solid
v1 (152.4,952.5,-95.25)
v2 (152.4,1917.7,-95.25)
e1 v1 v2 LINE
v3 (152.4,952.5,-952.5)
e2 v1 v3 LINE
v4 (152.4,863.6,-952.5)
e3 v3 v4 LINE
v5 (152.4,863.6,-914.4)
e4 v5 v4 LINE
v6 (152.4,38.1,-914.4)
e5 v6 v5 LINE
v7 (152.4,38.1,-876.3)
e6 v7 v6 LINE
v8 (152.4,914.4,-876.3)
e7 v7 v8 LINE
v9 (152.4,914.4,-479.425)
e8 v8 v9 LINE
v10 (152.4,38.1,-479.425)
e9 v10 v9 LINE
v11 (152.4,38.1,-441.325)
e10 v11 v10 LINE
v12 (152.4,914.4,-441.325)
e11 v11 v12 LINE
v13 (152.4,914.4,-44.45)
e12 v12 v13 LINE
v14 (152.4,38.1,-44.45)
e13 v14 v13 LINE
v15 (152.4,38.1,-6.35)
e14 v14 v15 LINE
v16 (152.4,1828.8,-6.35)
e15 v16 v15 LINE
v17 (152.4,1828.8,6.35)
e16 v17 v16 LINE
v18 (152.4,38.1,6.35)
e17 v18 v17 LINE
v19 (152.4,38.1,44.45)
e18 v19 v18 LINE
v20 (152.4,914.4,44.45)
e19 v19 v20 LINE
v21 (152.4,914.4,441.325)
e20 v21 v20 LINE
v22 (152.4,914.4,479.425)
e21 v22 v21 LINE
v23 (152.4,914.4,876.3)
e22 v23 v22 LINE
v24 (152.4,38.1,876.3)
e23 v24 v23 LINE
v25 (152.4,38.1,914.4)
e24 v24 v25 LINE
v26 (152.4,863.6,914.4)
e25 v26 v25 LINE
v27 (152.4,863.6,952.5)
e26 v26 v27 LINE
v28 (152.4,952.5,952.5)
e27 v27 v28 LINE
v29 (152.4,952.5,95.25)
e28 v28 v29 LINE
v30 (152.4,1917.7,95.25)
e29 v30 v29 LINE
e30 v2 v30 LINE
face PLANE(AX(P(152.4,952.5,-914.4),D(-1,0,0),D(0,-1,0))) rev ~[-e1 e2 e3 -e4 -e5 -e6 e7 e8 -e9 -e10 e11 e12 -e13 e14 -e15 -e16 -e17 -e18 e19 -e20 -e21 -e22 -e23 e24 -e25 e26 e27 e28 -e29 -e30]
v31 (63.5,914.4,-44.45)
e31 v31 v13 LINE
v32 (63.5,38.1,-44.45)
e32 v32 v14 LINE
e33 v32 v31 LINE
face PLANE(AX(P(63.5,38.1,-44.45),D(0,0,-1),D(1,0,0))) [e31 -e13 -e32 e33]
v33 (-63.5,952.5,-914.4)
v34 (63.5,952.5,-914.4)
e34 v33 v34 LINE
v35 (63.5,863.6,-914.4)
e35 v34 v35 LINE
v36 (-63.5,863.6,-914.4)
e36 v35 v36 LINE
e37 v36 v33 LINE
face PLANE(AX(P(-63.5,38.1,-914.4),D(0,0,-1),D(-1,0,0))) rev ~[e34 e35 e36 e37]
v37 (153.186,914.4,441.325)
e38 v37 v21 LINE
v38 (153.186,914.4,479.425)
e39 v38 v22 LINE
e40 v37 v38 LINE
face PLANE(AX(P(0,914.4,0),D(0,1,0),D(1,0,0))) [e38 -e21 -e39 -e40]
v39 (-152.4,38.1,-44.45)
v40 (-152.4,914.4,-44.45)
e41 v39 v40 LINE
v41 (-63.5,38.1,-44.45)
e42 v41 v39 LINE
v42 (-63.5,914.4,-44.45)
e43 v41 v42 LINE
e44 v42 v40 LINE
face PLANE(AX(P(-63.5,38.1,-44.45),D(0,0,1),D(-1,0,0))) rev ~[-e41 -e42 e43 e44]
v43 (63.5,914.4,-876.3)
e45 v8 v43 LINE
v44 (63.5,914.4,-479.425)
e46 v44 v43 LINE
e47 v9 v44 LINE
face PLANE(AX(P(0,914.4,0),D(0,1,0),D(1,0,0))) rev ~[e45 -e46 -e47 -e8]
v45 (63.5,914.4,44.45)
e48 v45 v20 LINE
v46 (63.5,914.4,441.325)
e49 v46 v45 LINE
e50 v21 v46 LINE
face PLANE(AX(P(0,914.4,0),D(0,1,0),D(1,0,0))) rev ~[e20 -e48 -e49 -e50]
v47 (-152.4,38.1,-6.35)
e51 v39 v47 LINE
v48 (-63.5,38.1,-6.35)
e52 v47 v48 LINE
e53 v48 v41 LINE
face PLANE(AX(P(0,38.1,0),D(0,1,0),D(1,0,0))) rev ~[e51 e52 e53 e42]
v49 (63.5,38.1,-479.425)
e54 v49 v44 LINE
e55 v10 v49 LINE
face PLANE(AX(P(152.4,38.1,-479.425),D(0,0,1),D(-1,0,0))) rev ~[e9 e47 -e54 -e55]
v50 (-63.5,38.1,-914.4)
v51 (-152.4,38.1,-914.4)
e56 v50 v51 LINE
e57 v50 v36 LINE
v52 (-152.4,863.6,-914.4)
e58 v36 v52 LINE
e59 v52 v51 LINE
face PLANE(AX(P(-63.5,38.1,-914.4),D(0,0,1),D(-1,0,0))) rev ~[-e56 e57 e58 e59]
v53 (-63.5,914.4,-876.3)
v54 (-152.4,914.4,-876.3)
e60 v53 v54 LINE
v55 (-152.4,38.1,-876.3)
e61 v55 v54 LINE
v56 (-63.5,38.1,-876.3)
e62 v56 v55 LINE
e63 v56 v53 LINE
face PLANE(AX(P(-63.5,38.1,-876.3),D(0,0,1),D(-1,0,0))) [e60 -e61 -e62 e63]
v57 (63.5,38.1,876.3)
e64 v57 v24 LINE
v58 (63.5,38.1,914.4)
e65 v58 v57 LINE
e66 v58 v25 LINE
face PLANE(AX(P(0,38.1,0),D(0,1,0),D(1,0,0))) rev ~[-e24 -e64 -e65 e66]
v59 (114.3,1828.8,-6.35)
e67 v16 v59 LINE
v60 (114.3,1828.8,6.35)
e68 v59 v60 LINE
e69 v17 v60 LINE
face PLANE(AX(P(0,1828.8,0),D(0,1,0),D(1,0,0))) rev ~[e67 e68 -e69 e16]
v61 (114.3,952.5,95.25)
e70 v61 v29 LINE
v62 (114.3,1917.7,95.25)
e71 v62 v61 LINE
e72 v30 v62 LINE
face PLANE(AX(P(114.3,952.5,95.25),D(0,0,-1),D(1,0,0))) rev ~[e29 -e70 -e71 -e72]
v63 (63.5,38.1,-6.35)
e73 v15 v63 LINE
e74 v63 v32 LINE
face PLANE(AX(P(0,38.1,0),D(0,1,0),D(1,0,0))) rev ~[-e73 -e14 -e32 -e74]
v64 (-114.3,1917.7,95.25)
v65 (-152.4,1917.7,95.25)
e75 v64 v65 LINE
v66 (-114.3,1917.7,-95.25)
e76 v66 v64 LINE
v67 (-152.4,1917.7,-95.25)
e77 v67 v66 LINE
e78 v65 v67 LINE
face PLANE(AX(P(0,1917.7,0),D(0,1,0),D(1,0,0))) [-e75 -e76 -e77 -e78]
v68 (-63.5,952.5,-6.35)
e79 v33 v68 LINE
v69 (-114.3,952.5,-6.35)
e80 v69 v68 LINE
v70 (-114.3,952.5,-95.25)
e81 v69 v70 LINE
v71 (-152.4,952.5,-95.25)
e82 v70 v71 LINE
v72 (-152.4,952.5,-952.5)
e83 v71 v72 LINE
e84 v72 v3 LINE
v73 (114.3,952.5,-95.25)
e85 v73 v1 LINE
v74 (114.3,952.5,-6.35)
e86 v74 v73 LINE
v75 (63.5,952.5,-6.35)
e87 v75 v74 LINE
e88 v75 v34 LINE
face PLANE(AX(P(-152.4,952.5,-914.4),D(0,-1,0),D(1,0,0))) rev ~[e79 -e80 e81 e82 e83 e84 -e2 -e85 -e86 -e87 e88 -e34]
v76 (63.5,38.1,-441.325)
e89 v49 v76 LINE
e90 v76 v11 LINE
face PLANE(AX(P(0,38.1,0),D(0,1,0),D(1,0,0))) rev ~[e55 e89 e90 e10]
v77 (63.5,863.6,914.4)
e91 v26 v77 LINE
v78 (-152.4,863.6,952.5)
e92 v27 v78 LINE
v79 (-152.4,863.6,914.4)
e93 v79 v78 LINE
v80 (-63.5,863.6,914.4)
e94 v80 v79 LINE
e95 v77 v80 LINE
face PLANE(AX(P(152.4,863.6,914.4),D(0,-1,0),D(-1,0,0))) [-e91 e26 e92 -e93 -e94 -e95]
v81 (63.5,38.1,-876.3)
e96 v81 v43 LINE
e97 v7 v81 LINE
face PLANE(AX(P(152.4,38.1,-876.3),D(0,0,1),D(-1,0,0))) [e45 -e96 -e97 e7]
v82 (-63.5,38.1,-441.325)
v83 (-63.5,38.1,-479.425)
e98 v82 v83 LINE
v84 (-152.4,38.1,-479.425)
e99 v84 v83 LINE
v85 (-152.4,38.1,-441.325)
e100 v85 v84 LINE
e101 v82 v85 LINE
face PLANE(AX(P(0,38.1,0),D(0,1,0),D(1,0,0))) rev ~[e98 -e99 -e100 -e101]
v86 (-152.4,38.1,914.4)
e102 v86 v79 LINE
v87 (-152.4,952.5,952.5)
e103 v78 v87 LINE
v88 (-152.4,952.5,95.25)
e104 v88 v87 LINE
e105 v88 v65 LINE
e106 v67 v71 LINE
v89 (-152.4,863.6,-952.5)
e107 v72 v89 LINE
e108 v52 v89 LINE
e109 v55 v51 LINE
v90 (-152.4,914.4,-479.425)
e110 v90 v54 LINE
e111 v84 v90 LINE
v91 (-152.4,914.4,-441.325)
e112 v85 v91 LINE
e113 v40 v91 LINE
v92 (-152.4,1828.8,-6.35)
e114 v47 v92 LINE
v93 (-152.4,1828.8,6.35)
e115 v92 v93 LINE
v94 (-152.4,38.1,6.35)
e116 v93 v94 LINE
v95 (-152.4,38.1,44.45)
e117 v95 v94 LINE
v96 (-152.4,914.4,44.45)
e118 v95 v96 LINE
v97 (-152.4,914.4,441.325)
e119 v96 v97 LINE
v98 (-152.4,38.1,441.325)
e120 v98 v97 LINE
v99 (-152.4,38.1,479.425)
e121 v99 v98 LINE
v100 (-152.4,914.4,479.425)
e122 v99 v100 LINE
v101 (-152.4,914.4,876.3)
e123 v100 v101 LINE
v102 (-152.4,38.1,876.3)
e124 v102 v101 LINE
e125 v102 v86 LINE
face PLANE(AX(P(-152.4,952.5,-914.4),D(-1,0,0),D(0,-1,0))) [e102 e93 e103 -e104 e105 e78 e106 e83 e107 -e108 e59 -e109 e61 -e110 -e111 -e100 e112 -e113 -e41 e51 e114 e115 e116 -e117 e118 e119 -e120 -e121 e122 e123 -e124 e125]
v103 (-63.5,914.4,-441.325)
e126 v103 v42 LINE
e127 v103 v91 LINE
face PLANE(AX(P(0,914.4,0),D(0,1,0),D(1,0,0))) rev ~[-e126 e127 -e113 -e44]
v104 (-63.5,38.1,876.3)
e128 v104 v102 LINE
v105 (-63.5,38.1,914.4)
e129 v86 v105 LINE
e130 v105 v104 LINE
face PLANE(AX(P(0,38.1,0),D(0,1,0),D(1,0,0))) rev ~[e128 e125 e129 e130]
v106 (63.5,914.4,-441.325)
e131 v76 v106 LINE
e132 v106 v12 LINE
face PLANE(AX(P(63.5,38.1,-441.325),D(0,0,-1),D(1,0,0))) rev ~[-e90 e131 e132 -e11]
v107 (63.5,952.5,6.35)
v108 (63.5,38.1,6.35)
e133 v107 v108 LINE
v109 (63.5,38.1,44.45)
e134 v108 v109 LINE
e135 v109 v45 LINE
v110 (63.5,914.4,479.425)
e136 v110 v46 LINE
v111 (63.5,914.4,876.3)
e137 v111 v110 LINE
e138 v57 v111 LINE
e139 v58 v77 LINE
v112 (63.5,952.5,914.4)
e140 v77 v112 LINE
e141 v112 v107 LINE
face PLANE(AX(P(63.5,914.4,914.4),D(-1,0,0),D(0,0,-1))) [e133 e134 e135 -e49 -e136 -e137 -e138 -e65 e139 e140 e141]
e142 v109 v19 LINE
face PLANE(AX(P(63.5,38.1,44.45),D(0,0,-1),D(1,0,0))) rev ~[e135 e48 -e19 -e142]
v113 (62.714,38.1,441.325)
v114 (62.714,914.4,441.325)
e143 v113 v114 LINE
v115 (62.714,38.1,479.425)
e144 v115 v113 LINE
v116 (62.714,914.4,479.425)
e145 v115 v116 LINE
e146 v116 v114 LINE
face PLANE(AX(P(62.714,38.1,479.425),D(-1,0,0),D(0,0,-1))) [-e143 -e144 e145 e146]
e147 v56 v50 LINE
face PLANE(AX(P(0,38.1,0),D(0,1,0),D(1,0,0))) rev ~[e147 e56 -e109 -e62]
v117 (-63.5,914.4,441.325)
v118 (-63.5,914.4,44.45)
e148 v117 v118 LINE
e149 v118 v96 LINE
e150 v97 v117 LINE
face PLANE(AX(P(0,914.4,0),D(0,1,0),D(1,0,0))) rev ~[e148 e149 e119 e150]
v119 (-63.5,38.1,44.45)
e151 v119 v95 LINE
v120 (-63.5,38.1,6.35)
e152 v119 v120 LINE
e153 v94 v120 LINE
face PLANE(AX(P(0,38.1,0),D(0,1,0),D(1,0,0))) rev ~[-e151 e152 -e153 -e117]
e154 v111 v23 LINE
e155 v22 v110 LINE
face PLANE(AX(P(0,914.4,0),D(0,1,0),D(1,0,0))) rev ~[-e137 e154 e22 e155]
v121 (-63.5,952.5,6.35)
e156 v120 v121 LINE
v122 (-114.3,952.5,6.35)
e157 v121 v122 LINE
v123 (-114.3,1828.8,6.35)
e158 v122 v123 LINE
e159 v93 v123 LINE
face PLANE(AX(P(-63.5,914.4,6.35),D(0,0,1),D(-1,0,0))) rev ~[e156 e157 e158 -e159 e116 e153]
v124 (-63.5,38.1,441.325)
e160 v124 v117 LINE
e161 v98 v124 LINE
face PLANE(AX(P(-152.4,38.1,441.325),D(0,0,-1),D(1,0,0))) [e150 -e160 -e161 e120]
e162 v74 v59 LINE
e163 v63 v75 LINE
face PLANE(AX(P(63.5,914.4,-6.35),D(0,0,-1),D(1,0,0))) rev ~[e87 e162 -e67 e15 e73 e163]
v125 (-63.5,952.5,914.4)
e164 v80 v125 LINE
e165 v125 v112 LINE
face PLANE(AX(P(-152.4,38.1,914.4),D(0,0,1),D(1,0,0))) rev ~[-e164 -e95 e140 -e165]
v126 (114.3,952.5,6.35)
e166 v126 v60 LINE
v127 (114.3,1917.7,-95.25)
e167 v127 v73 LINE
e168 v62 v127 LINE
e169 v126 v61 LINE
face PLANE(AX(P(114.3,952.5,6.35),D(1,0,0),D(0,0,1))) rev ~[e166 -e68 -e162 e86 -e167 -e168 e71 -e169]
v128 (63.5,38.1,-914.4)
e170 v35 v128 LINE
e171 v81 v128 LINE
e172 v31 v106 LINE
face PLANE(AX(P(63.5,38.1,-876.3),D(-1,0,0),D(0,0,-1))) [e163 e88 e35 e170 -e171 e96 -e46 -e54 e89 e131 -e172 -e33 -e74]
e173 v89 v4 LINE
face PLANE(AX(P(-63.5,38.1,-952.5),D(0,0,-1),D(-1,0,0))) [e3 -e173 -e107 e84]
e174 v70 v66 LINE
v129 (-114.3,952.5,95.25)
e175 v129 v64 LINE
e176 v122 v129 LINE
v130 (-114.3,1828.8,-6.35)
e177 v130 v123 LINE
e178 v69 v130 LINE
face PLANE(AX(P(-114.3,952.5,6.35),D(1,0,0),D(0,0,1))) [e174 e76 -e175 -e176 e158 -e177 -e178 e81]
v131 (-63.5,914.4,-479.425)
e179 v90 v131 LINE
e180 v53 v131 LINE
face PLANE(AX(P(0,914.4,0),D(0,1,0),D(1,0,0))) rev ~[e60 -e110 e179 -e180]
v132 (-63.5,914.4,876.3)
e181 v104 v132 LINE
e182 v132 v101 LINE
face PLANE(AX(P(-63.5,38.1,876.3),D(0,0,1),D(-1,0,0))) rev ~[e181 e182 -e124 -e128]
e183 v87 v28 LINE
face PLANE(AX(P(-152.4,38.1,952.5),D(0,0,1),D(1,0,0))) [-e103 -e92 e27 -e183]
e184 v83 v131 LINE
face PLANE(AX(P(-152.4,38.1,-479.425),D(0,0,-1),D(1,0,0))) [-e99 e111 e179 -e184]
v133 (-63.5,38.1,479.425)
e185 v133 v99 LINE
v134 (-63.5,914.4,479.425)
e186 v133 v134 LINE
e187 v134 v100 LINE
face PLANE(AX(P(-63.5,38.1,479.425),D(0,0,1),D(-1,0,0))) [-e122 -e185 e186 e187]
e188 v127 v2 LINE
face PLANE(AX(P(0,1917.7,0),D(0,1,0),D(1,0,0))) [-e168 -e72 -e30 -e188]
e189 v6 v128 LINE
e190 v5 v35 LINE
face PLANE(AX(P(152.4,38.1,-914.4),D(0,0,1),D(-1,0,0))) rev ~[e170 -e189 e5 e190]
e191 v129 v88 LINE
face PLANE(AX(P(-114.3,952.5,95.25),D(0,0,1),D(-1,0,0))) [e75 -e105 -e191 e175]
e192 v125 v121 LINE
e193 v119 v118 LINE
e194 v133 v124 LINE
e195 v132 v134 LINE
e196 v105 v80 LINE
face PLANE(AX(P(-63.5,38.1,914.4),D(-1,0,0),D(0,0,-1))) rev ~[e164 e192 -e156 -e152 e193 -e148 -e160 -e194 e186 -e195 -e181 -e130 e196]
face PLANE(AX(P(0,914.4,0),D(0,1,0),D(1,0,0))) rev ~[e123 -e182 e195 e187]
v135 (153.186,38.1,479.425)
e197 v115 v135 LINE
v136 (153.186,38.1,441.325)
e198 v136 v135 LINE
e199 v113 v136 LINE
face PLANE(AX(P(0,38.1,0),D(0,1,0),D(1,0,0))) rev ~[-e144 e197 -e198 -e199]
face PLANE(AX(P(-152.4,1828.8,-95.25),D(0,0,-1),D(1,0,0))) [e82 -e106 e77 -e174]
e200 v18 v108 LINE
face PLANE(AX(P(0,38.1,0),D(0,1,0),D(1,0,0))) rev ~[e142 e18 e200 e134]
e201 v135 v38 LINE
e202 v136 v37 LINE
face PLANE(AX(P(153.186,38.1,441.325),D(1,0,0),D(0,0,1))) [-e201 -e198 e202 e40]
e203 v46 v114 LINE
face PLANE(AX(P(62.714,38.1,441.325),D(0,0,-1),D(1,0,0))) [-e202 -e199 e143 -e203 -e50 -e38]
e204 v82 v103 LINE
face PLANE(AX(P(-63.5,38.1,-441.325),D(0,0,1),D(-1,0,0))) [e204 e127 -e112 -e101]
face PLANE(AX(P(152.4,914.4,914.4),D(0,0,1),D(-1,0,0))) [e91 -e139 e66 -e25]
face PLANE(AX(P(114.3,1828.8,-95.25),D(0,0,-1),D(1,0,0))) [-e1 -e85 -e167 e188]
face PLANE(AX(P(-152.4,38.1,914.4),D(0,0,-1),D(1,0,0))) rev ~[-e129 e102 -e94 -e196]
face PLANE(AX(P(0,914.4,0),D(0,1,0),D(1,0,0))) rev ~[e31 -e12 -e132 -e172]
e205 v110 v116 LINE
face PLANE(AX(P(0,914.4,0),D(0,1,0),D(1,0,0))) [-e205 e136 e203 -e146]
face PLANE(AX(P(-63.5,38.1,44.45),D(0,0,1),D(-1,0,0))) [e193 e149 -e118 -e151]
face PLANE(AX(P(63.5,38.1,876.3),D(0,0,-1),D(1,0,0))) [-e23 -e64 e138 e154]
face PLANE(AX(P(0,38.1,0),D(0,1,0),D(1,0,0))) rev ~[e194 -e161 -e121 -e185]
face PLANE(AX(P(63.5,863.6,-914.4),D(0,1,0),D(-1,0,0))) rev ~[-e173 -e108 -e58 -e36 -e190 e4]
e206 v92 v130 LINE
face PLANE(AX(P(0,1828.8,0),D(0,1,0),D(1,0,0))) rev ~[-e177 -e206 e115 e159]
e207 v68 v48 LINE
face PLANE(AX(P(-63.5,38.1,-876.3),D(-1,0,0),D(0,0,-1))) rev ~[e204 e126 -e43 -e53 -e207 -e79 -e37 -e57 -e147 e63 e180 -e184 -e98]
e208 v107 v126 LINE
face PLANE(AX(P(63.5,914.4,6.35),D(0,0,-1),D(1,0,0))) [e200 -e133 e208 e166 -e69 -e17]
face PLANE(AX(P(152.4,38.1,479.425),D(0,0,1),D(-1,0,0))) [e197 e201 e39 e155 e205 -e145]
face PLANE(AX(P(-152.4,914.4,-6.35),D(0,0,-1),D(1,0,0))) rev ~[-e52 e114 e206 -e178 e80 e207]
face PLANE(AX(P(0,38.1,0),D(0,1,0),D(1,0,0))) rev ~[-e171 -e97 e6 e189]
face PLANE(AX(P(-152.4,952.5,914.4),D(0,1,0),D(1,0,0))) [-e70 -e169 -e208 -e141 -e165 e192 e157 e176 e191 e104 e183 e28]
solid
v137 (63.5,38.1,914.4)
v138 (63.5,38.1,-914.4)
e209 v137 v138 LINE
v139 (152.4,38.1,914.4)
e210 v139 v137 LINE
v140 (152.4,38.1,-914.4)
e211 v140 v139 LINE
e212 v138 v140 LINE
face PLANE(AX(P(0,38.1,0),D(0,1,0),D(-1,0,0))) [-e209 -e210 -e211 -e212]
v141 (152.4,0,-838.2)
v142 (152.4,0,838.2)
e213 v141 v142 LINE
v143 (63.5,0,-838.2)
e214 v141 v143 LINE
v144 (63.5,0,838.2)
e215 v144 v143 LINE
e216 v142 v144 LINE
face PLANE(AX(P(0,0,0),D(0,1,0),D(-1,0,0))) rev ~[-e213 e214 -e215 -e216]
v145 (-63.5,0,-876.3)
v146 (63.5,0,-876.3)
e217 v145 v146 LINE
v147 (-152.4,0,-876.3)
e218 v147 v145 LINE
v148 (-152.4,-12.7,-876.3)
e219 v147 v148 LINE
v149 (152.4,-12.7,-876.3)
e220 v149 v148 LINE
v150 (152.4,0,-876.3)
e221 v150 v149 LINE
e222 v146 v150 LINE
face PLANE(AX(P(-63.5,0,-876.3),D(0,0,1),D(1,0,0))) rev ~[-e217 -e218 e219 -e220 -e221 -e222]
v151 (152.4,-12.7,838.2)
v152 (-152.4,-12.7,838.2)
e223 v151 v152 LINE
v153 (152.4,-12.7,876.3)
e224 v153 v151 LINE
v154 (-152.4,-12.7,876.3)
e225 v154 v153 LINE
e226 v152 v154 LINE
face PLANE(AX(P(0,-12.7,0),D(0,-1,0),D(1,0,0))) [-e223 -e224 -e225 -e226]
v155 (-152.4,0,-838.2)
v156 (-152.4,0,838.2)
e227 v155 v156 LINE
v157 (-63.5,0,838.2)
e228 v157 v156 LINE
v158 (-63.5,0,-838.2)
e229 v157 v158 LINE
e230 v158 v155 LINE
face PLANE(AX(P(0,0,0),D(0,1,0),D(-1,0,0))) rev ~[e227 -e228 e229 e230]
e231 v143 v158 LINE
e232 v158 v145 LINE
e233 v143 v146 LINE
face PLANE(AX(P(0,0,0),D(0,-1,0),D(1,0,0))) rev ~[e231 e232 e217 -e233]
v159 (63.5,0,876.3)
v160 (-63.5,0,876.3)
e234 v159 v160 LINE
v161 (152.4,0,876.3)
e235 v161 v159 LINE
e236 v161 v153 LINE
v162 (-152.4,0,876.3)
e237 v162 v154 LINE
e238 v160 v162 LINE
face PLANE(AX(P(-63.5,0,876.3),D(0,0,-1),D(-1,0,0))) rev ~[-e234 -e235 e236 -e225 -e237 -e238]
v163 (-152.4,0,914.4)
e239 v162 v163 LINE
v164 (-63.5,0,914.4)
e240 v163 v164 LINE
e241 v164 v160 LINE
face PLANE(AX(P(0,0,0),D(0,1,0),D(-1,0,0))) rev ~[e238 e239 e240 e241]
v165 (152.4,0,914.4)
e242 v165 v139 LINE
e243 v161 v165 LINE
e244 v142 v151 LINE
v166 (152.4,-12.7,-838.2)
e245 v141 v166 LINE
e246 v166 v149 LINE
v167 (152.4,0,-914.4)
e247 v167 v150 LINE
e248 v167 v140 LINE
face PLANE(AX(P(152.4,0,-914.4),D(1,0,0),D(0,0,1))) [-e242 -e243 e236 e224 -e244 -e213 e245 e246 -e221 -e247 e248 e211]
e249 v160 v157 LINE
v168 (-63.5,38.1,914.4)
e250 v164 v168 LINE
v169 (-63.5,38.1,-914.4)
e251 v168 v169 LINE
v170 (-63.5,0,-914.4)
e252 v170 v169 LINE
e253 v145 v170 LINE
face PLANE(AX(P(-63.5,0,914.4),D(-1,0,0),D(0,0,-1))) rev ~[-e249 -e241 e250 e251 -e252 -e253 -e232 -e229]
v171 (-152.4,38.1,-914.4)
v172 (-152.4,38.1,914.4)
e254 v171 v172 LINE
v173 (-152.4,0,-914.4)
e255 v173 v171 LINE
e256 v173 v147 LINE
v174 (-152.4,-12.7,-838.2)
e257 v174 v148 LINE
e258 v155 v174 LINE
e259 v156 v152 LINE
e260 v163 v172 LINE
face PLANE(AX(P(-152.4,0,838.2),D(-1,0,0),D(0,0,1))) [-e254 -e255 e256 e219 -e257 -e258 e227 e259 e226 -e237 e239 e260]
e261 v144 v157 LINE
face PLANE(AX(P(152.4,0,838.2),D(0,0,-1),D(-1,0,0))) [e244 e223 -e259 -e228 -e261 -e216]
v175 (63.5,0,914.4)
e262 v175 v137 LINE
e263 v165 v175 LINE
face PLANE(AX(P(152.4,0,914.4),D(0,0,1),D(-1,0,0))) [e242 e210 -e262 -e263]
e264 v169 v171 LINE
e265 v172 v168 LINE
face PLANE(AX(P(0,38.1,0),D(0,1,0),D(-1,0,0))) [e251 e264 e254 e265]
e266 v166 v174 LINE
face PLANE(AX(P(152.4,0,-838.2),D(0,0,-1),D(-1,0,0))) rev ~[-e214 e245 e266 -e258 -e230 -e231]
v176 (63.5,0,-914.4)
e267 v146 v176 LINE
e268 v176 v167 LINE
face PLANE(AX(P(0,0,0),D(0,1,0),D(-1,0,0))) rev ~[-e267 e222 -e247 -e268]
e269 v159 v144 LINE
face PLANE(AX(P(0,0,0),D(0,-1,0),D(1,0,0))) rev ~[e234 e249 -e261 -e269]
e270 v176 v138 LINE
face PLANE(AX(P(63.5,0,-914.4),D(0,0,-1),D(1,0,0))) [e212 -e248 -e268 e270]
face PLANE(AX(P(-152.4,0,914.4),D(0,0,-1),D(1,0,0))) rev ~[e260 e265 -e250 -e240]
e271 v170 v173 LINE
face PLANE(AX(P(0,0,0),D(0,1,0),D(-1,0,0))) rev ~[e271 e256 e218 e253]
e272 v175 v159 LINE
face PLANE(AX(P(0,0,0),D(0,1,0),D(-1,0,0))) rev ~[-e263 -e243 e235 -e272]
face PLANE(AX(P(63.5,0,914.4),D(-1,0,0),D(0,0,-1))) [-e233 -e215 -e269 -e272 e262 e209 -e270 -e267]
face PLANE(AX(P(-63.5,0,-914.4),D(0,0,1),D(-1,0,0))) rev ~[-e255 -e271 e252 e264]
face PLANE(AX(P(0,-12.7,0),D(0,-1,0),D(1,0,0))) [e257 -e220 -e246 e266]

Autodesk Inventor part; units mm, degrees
ref_plane "YZ Plane" through (0, 0, 0) normal (1, 0, 0) x (0, 1, 0)
ref_plane "XZ Plane" through (0, 0, 0) normal (0, 1, 0) x (-1, 0, 0)
ref_plane "XY Plane" through (0, 0, 0) normal (0, 0, 1) x (1, 0, 0)
sketch "Sketch1" plane through (0, 0, 0) normal (0, 1, 0) x (-1, 0, 0)
  line L0 (-152.4, 914.4) -> (152.4, 914.4) construction
  line L1 (152.4, 914.4) -> (152.4, -914.4) construction
  line L2 (152.4, -914.4) -> (-152.4, -914.4) construction
  line L3 (-152.4, -914.4) -> (-152.4, 914.4) construction
  line L4 (-152.4, 914.4) -> (152.4, -914.4) construction
  line L5 (152.4, 914.4) -> (-152.4, -914.4) construction
  line L6 (-152.4, 914.4) -> (-63.5, 914.4) construction
  line L7 (-63.5, 914.4) -> (-63.5, -914.4) construction
  line L8 (-63.5, -914.4) -> (-152.4, -914.4) construction
  line L9 (-152.4, -914.4) -> (-152.4, 914.4) construction
  line L10 (-152.4, 914.4) -> (-63.5, 914.4)
  line L11 (-63.5, 914.4) -> (-63.5, -914.4)
  line L12 (-63.5, -914.4) -> (-152.4, -914.4)
  line L13 (-152.4, -914.4) -> (-152.4, 914.4)
  line L14 (152.4, 914.4) -> (63.5, 914.4)
  line L15 (63.5, 914.4) -> (63.5, -914.4)
  line L16 (63.5, -914.4) -> (152.4, -914.4)
  line L17 (152.4, -914.4) -> (152.4, 914.4)
  point P0 (0, 0)
  dimension "d0" = 304.8
  dimension "d1" = 1828.8
  dimension "d2" = 88.9
  dimension "d3" = 88.9
extrude "Extrusion1" add sketch "Sketch1" along normal blind 38.1
sketch "Sketch2" plane through (0, 38.1, 0) normal (0, 1, 0) x (1, 0, 0)
  line L0 (-152.4, -914.4) -> (-63.5, -914.4) projected
  line L1 (-63.5, -914.4) -> (-63.5, 914.4) projected
  line L2 (-152.4, -914.4) -> (-63.5, -914.4)
  line L3 (-63.5, -914.4) -> (-63.5, -876.3)
  line L4 (-63.5, -876.3) -> (-152.4, -876.3)
  line L5 (-152.4, -876.3) -> (-152.4, -914.4)
  line L6 (63.5, -914.4) -> (152.4, -914.4) projected
  line L7 (152.4, -914.4) -> (63.5, -914.4)
  line L8 (63.5, -914.4) -> (63.5, -876.3)
  line L9 (63.5, -876.3) -> (152.4, -876.3)
  line L10 (152.4, -876.3) -> (152.4, -914.4)
  line L11 (-152.4, 914.4) -> (-152.4, -914.4) construction
  line L12 (152.4, -6.35) -> (-152.4, -6.35) construction
  line L13 (-152.4, -6.35) -> (-152.4, 6.35) construction
  line L14 (-152.4, 6.35) -> (152.4, 6.35) construction
  line L15 (152.4, 6.35) -> (152.4, -6.35) construction
  line L16 (152.4, -6.35) -> (-152.4, 6.35) construction
  line L17 (-152.4, -6.35) -> (152.4, 6.35) construction
  line L18 (-152.4, -6.35) -> (-63.5, -6.35)
  line L19 (-63.5, -6.35) -> (-63.5, -44.45)
  line L20 (-63.5, -44.45) -> (-152.4, -44.45)
  line L21 (-152.4, -44.45) -> (-152.4, -6.35)
  line L22 (-152.4, 6.35) -> (-63.5, 6.35)
  line L23 (-63.5, 6.35) -> (-63.5, 44.45)
  line L24 (-63.5, 44.45) -> (-152.4, 44.45)
  line L25 (-152.4, 44.45) -> (-152.4, 6.35)
  line L26 (152.4, 6.35) -> (63.5, 6.35)
  line L27 (63.5, 6.35) -> (63.5, 44.45)
  line L28 (63.5, 44.45) -> (152.4, 44.45)
  line L29 (152.4, 44.45) -> (152.4, 6.35)
  line L30 (152.4, -6.35) -> (63.5, -6.35)
  line L31 (63.5, -6.35) -> (63.5, -44.45)
  line L32 (63.5, -44.45) -> (152.4, -44.45)
  line L33 (152.4, -44.45) -> (152.4, -6.35)
  line L34 (107.95, -876.3) -> (107.95, -44.45) construction
  line L35 (-107.95, -876.3) -> (-107.95, -44.45) construction
  line L36 (153.186, -479.425) -> (62.714, -479.425)
  line L37 (62.714, -479.425) -> (62.714, -441.325)
  line L38 (62.714, -441.325) -> (153.186, -441.325)
  line L39 (153.186, -441.325) -> (153.186, -479.425)
  line L40 (153.186, -479.425) -> (62.714, -441.325) construction
  line L41 (62.714, -479.425) -> (153.186, -441.325) construction
  line L42 (-63.5, -479.425) -> (-152.4, -479.425)
  line L43 (-152.4, -479.425) -> (-152.4, -441.325)
  line L44 (-152.4, -441.325) -> (-63.5, -441.325)
  line L45 (-63.5, -441.325) -> (-63.5, -479.425)
  line L46 (-63.5, -479.425) -> (-152.4, -441.325) construction
  line L47 (-152.4, -479.425) -> (-63.5, -441.325) construction
  line L48 (152.4, 914.4) -> (63.5, 914.4) projected
  line L49 (152.4, -914.4) -> (152.4, 914.4) projected
  line L50 (63.5, 914.4) -> (152.4, 914.4)
  line L51 (152.4, 914.4) -> (152.4, 876.3)
  line L52 (152.4, 876.3) -> (63.5, 876.3)
  line L53 (63.5, 876.3) -> (63.5, 914.4)
  line L54 (-63.5, 914.4) -> (-152.4, 914.4) projected
  line L55 (-63.5, -914.4) -> (-63.5, 914.4) projected
  line L56 (-152.4, 914.4) -> (-63.5, 914.4)
  line L57 (-63.5, 914.4) -> (-63.5, 876.3)
  line L58 (-63.5, 876.3) -> (-152.4, 876.3)
  line L59 (-152.4, 876.3) -> (-152.4, 914.4)
  line L60 (-107.95, 44.45) -> (-107.95, 876.3) construction
  line L61 (107.95, 44.45) -> (107.95, 876.3) construction
  line L62 (-63.5, 441.325) -> (-152.4, 441.325)
  line L63 (-152.4, 441.325) -> (-152.4, 479.425)
  line L64 (-152.4, 479.425) -> (-63.5, 479.425)
  line L65 (-63.5, 479.425) -> (-63.5, 441.325)
  line L66 (-63.5, 441.325) -> (-152.4, 479.425) construction
  line L67 (-152.4, 441.325) -> (-63.5, 479.425) construction
  line L68 (63.5, 441.325) -> (152.4, 441.325)
  line L69 (152.4, 441.325) -> (152.4, 479.425)
  line L70 (152.4, 479.425) -> (63.5, 479.425)
  line L71 (63.5, 479.425) -> (63.5, 441.325)
  line L72 (63.5, 441.325) -> (152.4, 479.425) construction
  line L73 (152.4, 441.325) -> (63.5, 479.425) construction
  point P0 (0, 0)
  point P1 (107.95, -460.375)
  point P2 (-107.95, -460.375)
  point P3 (-107.95, 460.375)
  point P4 (107.95, 460.375)
  dimension "d6" = 38.1
  dimension "d8" = 12.7
  dimension "d9" = 38.1
  dimension "d10" = 38.1
  dimension "d11" = 38.1
  dimension "d17" = 38.1
  dimension "d18" = 38.1
  dimension "d19" = 88.9
  dimension "d20" = 38.1
  dimension "d21" = 88.9
  dimension "d22" = 38.1
  dimension "d23" = 38.1
  dimension "d24" = 88.9
  dimension "d25" = 88.9
  dimension "d26" = 88.9
  dimension "d27" = 38.1
  dimension "d28" = 38.1
extrude "Extrusion3" add sketch "Sketch2" along normal blind 876.3 separate body
sketch "Sketch10" plane through (0, 914.4, 0) normal (0, 1, 0) x (1, 0, 0)
  line L0 (-152.4, -914.4) -> (-63.5, -914.4) projected
  line L1 (-63.5, -6.35) -> (-152.4, -6.35) projected
  line L2 (-152.4, -914.4) -> (-63.5, -914.4)
  line L3 (-63.5, -914.4) -> (-63.5, -6.35)
  line L4 (-63.5, -6.35) -> (-152.4, -6.35)
  line L5 (-152.4, -6.35) -> (-152.4, -914.4)
  line L6 (152.4, -914.4) -> (152.4, -876.3) projected
  line L7 (63.5, -6.35) -> (152.4, -6.35)
  line L8 (152.4, -6.35) -> (152.4, -914.4)
  line L9 (152.4, -914.4) -> (63.5, -914.4)
  line L10 (63.5, -914.4) -> (63.5, -6.35)
  line L11 (-152.4, 6.35) -> (-63.5, 6.35) projected
  line L12 (-63.5, 914.4) -> (-152.4, 914.4) projected
  line L13 (-63.5, 6.35) -> (-152.4, 6.35)
  line L14 (-152.4, 6.35) -> (-152.4, 914.4)
  line L15 (-152.4, 914.4) -> (-63.5, 914.4)
  line L16 (-63.5, 914.4) -> (-63.5, 6.35)
  line L17 (63.5, 6.35) -> (152.4, 6.35) projected
  line L18 (63.5, 914.4) -> (152.4, 914.4)
  line L19 (152.4, 914.4) -> (152.4, 6.35)
  line L20 (152.4, 6.35) -> (63.5, 6.35)
  line L21 (63.5, 6.35) -> (63.5, 914.4)
  point P0 (0, 0)
extrude "Extrusion7" add sketch "Sketch10" along normal blind 38.1 bodies 2
sketch "Sketch11" plane through (0, 952.5, 0) normal (0, 1, 0) x (1, 0, 0)
  line L0 (152.4, 6.35) -> (152.4, 914.4) projected
  line L1 (152.4, 6.35) -> (114.3, 6.35)
  line L2 (114.3, 6.35) -> (114.3, 95.25)
  line L3 (114.3, 95.25) -> (152.4, 95.25)
  line L4 (152.4, 95.25) -> (152.4, 6.35)
  line L5 (152.4, -6.35) -> (63.5, -6.35) projected
  line L6 (152.4, -6.35) -> (114.3, -6.35)
  line L7 (114.3, -6.35) -> (114.3, -95.25)
  line L8 (114.3, -95.25) -> (152.4, -95.25)
  line L9 (152.4, -95.25) -> (152.4, -6.35)
  line L10 (-152.4, 6.35) -> (-63.5, 6.35) projected
  line L11 (-152.4, 6.35) -> (-114.3, 6.35)
  line L12 (-114.3, 6.35) -> (-114.3, 95.25)
  line L13 (-114.3, 95.25) -> (-152.4, 95.25)
  line L14 (-152.4, 95.25) -> (-152.4, 6.35)
  line L15 (-152.4, -6.35) -> (-114.3, -6.35)
  line L16 (-114.3, -6.35) -> (-114.3, -95.25)
  line L17 (-114.3, -95.25) -> (-152.4, -95.25)
  line L18 (-152.4, -95.25) -> (-152.4, -6.35)
  point P0 (0, 0)
  dimension "d52" = 38.1
  dimension "d53" = 88.9
  dimension "d54" = 38.1
  dimension "d55" = 88.9
  dimension "d56" = 38.1
  dimension "d57" = 88.9
  dimension "d58" = 38.1
  dimension "d59" = 88.9
extrude "Extrusion8" add sketch "Sketch11" along normal blind 876.3 bodies 2
sketch "Sketch13" plane through (0, 1828.8, 0) normal (0, 1, 0) x (1, 0, 0)
  line L0 (152.4, -95.25) -> (152.4, -6.35) projected
  line L1 (114.3, 95.25) -> (114.3, 6.35) projected
  line L2 (152.4, -95.25) -> (114.3, -95.25)
  line L3 (114.3, -95.25) -> (114.3, 95.25)
  line L4 (114.3, 95.25) -> (152.4, 95.25)
  line L5 (152.4, 95.25) -> (152.4, -95.25)
  line L6 (-152.4, 95.25) -> (-152.4, 6.35) projected
  line L7 (-152.4, 95.25) -> (-114.3, 95.25)
  line L8 (-114.3, 95.25) -> (-114.3, -95.25)
  line L9 (-114.3, -95.25) -> (-152.4, -95.25)
  line L10 (-152.4, -95.25) -> (-152.4, 95.25)
  point P0 (0, 0)
extrude "Extrusion9" add sketch "Sketch13" along normal blind 88.9 bodies 2
sketch "Sketch16" plane through (0, 0, 0) normal (0, -1, 0) x (1, 0, 0)
  line L0 (-152.4, -876.3) -> (-63.5, -876.3) projected
  line L1 (152.4, 914.4) -> (152.4, -914.4) projected
  line L2 (-152.4, -876.3) -> (152.4, -876.3)
  line L3 (152.4, -876.3) -> (152.4, -838.2)
  line L4 (152.4, -838.2) -> (-152.4, -838.2)
  line L5 (-152.4, -838.2) -> (-152.4, -876.3)
  line L6 (-63.5, 876.3) -> (-152.4, 876.3) projected
  line L7 (-152.4, 876.3) -> (152.4, 876.3)
  line L8 (152.4, 876.3) -> (152.4, 838.2)
  line L9 (152.4, 838.2) -> (-152.4, 838.2)
  line L10 (-152.4, 838.2) -> (-152.4, 876.3)
  point P0 (0, 0)
  dimension "d75" = 38.1
  dimension "d76" = 38.1
extrude "Extrusion11" add sketch "Sketch16" along normal blind 12.7 bodies 1
sketch "Sketch17" plane through (-152.4, 38.1, 914.4) normal (0, 0, 1) x (1, 0, 0)
  line L0 (0, 914.4) -> (88.9, 914.4) projected
  line L1 (304.8, 0) -> (304.8, 914.4) projected
  line L2 (0, 914.4) -> (304.8, 914.4)
  line L3 (304.8, 914.4) -> (304.8, 825.5)
  line L4 (304.8, 825.5) -> (0, 825.5)
  line L5 (0, 825.5) -> (0, 914.4)
  point P0 (152.4, -38.1)
  dimension "d79" = 88.9
extrude "Extrusion12" add sketch "Sketch17" along normal blind 38.1 bodies 2
sketch "Sketch18" plane through (-63.5, 38.1, -914.4) normal (0, 0, -1) x (-1, 0, 0)
  line L0 (88.9, 914.4) -> (88.9, 825.5) projected
  line L1 (-215.9, 825.5) -> (-127, 825.5) projected
  line L2 (88.9, 914.4) -> (-215.9, 914.4)
  line L3 (-215.9, 914.4) -> (-215.9, 825.5)
  line L4 (-215.9, 825.5) -> (88.9, 825.5)
  line L5 (88.9, 825.5) -> (88.9, 914.4)
  point P0 (-63.5, -38.1)
extrude "Extrusion13" add sketch "Sketch18" along normal blind 38.1 bodies 2
sketch "Sketch19" plane through (152.4, 914.4, -44.45) normal (1, 0, 0) x (0, 0, -1)
  line L0 (-38.1, 914.4) -> (-50.8, 914.4) projected
  line L1 (-44.45, 914.4) -> (-44.45, -876.3)
  line L2 (-958.85, -876.3) -> (869.95, -876.3) projected
  point P0 (-44.45, -914.4)
sketch "Sketch20" plane through (-152.4, 914.4, 44.45) normal (-1, 0, 0) x (0, 0, 1)
  line L0 (-50.8, 914.4) -> (-38.1, 914.4) projected
  line L1 (-44.45, 914.4) -> (-44.45, -876.3)
  line L2 (869.95, -876.3) -> (-958.85, -876.3) projected
  point P0 (-44.45, -914.4)
sketch "Sketch21" plane through (152.4, 914.4, -44.45) normal (1, 0, 0) x (0, 0, -1)
  point P0 (-44.45, -914.4)
sketch "Sketch22" plane through (63.5, 38.1, 914.4) normal (0, 0, 1) x (1, 0, 0)
  line L0 (88.9, 0) -> (88.9, 876.3) projected
  line L1 (88.9, 876.3) -> (0, 876.3)
  line L2 (0, 876.3) -> (0, 0)
  line L3 (0, 0) -> (88.9, 0)
  line L4 (88.9, 0) -> (88.9, 876.3)
  point P0 (-63.5, -38.1)
  dimension "d84" = 876.3
sketch "Sketch23" plane through (0, 952.5, 0) normal (0, 1, 0) x (1, 0, 0)
  line L0 (-152.4, 914.4) -> (-63.5, 914.4)
  line L1 (-63.5, 914.4) -> (-63.5, -914.4)
  line L2 (-63.5, -914.4) -> (-152.4, -914.4)
  line L3 (-152.4, -914.4) -> (-152.4, 914.4)
  point P0 (0, 0)
  dimension "d85" = 1828.8
sketch "Sketch24" plane through (0, 38.1, 0) normal (0, 1, 0) x (1, 0, 0)
  point P0 (0, 0)
sketch "Sketch25" plane through (152.4, 914.4, -44.45) normal (1, 0, 0) x (0, 0, -1)
  point P0 (-44.45, -914.4)
sketch "Sketch26" plane through (152.4, 914.4, -44.45) normal (1, 0, 0) x (0, 0, -1)
  line L0 (-139.7, 38.1) -> (-139.7, 1003.3) projected
  line L1 (50.8, 914.4) -> (-139.7, 914.4)
  line L2 (-139.7, 914.4) -> (-139.7, 38.1)
  line L3 (-139.7, 38.1) -> (50.8, 38.1)
  line L4 (50.8, 38.1) -> (50.8, 914.4)
  point P0 (-44.45, -914.4)
  dimension "d87" = 876.3
sketch "Sketch27" plane through (152.4, 914.4, -44.45) normal (1, 0, 0) x (0, 0, -1)
  line L0 (50.8, 38.1) -> (50.8, 1003.3) projected
  line L1 (-139.7, 38.1) -> (-139.7, 1003.3) projected
  line L2 (50.8, 1003.3) -> (-139.7, 1003.3)
  line L3 (-139.7, 1003.3) -> (-139.7, 914.4)
  line L4 (-139.7, 914.4) -> (50.8, 914.4)
  line L5 (50.8, 914.4) -> (50.8, 1003.3)
  point P0 (-44.45, -914.4)
  dimension "d88" = 88.9
  dimension "d89" = 190.5
sketch "Sketch28" plane through (0, -12.7, 0) normal (0, -1, 0) x (1, 0, 0)
  point P0 (0, 0)
sketch "Sketch29" plane through (152.4, 0, -914.4) normal (1, 0, 0) x (0, 0, -1)
  line L0 (-1790.7, 38.1) -> (-1790.7, 914.4) projected
  line L1 (-1355.725, 914.4) -> (-1393.825, 914.4) projected
  line L2 (-1790.7, 914.4) -> (-1393.825, 914.4)
  line L3 (-1828.8, 38.1) -> (-1393.825, 38.1)
  line L4 (-1828.8, 38.1) -> (-1828.8, 863.6) projected
  line L5 (-958.85, 38.1) -> (-958.85, 914.4) projected
  line L6 (-1828.8, 38.1) -> (-958.85, 38.1)
  point P0 (-914.4, 0)
  dimension "d90" = 434.975
  dimension "d91" = 869.95
properties part number "Trebuchet Base"
